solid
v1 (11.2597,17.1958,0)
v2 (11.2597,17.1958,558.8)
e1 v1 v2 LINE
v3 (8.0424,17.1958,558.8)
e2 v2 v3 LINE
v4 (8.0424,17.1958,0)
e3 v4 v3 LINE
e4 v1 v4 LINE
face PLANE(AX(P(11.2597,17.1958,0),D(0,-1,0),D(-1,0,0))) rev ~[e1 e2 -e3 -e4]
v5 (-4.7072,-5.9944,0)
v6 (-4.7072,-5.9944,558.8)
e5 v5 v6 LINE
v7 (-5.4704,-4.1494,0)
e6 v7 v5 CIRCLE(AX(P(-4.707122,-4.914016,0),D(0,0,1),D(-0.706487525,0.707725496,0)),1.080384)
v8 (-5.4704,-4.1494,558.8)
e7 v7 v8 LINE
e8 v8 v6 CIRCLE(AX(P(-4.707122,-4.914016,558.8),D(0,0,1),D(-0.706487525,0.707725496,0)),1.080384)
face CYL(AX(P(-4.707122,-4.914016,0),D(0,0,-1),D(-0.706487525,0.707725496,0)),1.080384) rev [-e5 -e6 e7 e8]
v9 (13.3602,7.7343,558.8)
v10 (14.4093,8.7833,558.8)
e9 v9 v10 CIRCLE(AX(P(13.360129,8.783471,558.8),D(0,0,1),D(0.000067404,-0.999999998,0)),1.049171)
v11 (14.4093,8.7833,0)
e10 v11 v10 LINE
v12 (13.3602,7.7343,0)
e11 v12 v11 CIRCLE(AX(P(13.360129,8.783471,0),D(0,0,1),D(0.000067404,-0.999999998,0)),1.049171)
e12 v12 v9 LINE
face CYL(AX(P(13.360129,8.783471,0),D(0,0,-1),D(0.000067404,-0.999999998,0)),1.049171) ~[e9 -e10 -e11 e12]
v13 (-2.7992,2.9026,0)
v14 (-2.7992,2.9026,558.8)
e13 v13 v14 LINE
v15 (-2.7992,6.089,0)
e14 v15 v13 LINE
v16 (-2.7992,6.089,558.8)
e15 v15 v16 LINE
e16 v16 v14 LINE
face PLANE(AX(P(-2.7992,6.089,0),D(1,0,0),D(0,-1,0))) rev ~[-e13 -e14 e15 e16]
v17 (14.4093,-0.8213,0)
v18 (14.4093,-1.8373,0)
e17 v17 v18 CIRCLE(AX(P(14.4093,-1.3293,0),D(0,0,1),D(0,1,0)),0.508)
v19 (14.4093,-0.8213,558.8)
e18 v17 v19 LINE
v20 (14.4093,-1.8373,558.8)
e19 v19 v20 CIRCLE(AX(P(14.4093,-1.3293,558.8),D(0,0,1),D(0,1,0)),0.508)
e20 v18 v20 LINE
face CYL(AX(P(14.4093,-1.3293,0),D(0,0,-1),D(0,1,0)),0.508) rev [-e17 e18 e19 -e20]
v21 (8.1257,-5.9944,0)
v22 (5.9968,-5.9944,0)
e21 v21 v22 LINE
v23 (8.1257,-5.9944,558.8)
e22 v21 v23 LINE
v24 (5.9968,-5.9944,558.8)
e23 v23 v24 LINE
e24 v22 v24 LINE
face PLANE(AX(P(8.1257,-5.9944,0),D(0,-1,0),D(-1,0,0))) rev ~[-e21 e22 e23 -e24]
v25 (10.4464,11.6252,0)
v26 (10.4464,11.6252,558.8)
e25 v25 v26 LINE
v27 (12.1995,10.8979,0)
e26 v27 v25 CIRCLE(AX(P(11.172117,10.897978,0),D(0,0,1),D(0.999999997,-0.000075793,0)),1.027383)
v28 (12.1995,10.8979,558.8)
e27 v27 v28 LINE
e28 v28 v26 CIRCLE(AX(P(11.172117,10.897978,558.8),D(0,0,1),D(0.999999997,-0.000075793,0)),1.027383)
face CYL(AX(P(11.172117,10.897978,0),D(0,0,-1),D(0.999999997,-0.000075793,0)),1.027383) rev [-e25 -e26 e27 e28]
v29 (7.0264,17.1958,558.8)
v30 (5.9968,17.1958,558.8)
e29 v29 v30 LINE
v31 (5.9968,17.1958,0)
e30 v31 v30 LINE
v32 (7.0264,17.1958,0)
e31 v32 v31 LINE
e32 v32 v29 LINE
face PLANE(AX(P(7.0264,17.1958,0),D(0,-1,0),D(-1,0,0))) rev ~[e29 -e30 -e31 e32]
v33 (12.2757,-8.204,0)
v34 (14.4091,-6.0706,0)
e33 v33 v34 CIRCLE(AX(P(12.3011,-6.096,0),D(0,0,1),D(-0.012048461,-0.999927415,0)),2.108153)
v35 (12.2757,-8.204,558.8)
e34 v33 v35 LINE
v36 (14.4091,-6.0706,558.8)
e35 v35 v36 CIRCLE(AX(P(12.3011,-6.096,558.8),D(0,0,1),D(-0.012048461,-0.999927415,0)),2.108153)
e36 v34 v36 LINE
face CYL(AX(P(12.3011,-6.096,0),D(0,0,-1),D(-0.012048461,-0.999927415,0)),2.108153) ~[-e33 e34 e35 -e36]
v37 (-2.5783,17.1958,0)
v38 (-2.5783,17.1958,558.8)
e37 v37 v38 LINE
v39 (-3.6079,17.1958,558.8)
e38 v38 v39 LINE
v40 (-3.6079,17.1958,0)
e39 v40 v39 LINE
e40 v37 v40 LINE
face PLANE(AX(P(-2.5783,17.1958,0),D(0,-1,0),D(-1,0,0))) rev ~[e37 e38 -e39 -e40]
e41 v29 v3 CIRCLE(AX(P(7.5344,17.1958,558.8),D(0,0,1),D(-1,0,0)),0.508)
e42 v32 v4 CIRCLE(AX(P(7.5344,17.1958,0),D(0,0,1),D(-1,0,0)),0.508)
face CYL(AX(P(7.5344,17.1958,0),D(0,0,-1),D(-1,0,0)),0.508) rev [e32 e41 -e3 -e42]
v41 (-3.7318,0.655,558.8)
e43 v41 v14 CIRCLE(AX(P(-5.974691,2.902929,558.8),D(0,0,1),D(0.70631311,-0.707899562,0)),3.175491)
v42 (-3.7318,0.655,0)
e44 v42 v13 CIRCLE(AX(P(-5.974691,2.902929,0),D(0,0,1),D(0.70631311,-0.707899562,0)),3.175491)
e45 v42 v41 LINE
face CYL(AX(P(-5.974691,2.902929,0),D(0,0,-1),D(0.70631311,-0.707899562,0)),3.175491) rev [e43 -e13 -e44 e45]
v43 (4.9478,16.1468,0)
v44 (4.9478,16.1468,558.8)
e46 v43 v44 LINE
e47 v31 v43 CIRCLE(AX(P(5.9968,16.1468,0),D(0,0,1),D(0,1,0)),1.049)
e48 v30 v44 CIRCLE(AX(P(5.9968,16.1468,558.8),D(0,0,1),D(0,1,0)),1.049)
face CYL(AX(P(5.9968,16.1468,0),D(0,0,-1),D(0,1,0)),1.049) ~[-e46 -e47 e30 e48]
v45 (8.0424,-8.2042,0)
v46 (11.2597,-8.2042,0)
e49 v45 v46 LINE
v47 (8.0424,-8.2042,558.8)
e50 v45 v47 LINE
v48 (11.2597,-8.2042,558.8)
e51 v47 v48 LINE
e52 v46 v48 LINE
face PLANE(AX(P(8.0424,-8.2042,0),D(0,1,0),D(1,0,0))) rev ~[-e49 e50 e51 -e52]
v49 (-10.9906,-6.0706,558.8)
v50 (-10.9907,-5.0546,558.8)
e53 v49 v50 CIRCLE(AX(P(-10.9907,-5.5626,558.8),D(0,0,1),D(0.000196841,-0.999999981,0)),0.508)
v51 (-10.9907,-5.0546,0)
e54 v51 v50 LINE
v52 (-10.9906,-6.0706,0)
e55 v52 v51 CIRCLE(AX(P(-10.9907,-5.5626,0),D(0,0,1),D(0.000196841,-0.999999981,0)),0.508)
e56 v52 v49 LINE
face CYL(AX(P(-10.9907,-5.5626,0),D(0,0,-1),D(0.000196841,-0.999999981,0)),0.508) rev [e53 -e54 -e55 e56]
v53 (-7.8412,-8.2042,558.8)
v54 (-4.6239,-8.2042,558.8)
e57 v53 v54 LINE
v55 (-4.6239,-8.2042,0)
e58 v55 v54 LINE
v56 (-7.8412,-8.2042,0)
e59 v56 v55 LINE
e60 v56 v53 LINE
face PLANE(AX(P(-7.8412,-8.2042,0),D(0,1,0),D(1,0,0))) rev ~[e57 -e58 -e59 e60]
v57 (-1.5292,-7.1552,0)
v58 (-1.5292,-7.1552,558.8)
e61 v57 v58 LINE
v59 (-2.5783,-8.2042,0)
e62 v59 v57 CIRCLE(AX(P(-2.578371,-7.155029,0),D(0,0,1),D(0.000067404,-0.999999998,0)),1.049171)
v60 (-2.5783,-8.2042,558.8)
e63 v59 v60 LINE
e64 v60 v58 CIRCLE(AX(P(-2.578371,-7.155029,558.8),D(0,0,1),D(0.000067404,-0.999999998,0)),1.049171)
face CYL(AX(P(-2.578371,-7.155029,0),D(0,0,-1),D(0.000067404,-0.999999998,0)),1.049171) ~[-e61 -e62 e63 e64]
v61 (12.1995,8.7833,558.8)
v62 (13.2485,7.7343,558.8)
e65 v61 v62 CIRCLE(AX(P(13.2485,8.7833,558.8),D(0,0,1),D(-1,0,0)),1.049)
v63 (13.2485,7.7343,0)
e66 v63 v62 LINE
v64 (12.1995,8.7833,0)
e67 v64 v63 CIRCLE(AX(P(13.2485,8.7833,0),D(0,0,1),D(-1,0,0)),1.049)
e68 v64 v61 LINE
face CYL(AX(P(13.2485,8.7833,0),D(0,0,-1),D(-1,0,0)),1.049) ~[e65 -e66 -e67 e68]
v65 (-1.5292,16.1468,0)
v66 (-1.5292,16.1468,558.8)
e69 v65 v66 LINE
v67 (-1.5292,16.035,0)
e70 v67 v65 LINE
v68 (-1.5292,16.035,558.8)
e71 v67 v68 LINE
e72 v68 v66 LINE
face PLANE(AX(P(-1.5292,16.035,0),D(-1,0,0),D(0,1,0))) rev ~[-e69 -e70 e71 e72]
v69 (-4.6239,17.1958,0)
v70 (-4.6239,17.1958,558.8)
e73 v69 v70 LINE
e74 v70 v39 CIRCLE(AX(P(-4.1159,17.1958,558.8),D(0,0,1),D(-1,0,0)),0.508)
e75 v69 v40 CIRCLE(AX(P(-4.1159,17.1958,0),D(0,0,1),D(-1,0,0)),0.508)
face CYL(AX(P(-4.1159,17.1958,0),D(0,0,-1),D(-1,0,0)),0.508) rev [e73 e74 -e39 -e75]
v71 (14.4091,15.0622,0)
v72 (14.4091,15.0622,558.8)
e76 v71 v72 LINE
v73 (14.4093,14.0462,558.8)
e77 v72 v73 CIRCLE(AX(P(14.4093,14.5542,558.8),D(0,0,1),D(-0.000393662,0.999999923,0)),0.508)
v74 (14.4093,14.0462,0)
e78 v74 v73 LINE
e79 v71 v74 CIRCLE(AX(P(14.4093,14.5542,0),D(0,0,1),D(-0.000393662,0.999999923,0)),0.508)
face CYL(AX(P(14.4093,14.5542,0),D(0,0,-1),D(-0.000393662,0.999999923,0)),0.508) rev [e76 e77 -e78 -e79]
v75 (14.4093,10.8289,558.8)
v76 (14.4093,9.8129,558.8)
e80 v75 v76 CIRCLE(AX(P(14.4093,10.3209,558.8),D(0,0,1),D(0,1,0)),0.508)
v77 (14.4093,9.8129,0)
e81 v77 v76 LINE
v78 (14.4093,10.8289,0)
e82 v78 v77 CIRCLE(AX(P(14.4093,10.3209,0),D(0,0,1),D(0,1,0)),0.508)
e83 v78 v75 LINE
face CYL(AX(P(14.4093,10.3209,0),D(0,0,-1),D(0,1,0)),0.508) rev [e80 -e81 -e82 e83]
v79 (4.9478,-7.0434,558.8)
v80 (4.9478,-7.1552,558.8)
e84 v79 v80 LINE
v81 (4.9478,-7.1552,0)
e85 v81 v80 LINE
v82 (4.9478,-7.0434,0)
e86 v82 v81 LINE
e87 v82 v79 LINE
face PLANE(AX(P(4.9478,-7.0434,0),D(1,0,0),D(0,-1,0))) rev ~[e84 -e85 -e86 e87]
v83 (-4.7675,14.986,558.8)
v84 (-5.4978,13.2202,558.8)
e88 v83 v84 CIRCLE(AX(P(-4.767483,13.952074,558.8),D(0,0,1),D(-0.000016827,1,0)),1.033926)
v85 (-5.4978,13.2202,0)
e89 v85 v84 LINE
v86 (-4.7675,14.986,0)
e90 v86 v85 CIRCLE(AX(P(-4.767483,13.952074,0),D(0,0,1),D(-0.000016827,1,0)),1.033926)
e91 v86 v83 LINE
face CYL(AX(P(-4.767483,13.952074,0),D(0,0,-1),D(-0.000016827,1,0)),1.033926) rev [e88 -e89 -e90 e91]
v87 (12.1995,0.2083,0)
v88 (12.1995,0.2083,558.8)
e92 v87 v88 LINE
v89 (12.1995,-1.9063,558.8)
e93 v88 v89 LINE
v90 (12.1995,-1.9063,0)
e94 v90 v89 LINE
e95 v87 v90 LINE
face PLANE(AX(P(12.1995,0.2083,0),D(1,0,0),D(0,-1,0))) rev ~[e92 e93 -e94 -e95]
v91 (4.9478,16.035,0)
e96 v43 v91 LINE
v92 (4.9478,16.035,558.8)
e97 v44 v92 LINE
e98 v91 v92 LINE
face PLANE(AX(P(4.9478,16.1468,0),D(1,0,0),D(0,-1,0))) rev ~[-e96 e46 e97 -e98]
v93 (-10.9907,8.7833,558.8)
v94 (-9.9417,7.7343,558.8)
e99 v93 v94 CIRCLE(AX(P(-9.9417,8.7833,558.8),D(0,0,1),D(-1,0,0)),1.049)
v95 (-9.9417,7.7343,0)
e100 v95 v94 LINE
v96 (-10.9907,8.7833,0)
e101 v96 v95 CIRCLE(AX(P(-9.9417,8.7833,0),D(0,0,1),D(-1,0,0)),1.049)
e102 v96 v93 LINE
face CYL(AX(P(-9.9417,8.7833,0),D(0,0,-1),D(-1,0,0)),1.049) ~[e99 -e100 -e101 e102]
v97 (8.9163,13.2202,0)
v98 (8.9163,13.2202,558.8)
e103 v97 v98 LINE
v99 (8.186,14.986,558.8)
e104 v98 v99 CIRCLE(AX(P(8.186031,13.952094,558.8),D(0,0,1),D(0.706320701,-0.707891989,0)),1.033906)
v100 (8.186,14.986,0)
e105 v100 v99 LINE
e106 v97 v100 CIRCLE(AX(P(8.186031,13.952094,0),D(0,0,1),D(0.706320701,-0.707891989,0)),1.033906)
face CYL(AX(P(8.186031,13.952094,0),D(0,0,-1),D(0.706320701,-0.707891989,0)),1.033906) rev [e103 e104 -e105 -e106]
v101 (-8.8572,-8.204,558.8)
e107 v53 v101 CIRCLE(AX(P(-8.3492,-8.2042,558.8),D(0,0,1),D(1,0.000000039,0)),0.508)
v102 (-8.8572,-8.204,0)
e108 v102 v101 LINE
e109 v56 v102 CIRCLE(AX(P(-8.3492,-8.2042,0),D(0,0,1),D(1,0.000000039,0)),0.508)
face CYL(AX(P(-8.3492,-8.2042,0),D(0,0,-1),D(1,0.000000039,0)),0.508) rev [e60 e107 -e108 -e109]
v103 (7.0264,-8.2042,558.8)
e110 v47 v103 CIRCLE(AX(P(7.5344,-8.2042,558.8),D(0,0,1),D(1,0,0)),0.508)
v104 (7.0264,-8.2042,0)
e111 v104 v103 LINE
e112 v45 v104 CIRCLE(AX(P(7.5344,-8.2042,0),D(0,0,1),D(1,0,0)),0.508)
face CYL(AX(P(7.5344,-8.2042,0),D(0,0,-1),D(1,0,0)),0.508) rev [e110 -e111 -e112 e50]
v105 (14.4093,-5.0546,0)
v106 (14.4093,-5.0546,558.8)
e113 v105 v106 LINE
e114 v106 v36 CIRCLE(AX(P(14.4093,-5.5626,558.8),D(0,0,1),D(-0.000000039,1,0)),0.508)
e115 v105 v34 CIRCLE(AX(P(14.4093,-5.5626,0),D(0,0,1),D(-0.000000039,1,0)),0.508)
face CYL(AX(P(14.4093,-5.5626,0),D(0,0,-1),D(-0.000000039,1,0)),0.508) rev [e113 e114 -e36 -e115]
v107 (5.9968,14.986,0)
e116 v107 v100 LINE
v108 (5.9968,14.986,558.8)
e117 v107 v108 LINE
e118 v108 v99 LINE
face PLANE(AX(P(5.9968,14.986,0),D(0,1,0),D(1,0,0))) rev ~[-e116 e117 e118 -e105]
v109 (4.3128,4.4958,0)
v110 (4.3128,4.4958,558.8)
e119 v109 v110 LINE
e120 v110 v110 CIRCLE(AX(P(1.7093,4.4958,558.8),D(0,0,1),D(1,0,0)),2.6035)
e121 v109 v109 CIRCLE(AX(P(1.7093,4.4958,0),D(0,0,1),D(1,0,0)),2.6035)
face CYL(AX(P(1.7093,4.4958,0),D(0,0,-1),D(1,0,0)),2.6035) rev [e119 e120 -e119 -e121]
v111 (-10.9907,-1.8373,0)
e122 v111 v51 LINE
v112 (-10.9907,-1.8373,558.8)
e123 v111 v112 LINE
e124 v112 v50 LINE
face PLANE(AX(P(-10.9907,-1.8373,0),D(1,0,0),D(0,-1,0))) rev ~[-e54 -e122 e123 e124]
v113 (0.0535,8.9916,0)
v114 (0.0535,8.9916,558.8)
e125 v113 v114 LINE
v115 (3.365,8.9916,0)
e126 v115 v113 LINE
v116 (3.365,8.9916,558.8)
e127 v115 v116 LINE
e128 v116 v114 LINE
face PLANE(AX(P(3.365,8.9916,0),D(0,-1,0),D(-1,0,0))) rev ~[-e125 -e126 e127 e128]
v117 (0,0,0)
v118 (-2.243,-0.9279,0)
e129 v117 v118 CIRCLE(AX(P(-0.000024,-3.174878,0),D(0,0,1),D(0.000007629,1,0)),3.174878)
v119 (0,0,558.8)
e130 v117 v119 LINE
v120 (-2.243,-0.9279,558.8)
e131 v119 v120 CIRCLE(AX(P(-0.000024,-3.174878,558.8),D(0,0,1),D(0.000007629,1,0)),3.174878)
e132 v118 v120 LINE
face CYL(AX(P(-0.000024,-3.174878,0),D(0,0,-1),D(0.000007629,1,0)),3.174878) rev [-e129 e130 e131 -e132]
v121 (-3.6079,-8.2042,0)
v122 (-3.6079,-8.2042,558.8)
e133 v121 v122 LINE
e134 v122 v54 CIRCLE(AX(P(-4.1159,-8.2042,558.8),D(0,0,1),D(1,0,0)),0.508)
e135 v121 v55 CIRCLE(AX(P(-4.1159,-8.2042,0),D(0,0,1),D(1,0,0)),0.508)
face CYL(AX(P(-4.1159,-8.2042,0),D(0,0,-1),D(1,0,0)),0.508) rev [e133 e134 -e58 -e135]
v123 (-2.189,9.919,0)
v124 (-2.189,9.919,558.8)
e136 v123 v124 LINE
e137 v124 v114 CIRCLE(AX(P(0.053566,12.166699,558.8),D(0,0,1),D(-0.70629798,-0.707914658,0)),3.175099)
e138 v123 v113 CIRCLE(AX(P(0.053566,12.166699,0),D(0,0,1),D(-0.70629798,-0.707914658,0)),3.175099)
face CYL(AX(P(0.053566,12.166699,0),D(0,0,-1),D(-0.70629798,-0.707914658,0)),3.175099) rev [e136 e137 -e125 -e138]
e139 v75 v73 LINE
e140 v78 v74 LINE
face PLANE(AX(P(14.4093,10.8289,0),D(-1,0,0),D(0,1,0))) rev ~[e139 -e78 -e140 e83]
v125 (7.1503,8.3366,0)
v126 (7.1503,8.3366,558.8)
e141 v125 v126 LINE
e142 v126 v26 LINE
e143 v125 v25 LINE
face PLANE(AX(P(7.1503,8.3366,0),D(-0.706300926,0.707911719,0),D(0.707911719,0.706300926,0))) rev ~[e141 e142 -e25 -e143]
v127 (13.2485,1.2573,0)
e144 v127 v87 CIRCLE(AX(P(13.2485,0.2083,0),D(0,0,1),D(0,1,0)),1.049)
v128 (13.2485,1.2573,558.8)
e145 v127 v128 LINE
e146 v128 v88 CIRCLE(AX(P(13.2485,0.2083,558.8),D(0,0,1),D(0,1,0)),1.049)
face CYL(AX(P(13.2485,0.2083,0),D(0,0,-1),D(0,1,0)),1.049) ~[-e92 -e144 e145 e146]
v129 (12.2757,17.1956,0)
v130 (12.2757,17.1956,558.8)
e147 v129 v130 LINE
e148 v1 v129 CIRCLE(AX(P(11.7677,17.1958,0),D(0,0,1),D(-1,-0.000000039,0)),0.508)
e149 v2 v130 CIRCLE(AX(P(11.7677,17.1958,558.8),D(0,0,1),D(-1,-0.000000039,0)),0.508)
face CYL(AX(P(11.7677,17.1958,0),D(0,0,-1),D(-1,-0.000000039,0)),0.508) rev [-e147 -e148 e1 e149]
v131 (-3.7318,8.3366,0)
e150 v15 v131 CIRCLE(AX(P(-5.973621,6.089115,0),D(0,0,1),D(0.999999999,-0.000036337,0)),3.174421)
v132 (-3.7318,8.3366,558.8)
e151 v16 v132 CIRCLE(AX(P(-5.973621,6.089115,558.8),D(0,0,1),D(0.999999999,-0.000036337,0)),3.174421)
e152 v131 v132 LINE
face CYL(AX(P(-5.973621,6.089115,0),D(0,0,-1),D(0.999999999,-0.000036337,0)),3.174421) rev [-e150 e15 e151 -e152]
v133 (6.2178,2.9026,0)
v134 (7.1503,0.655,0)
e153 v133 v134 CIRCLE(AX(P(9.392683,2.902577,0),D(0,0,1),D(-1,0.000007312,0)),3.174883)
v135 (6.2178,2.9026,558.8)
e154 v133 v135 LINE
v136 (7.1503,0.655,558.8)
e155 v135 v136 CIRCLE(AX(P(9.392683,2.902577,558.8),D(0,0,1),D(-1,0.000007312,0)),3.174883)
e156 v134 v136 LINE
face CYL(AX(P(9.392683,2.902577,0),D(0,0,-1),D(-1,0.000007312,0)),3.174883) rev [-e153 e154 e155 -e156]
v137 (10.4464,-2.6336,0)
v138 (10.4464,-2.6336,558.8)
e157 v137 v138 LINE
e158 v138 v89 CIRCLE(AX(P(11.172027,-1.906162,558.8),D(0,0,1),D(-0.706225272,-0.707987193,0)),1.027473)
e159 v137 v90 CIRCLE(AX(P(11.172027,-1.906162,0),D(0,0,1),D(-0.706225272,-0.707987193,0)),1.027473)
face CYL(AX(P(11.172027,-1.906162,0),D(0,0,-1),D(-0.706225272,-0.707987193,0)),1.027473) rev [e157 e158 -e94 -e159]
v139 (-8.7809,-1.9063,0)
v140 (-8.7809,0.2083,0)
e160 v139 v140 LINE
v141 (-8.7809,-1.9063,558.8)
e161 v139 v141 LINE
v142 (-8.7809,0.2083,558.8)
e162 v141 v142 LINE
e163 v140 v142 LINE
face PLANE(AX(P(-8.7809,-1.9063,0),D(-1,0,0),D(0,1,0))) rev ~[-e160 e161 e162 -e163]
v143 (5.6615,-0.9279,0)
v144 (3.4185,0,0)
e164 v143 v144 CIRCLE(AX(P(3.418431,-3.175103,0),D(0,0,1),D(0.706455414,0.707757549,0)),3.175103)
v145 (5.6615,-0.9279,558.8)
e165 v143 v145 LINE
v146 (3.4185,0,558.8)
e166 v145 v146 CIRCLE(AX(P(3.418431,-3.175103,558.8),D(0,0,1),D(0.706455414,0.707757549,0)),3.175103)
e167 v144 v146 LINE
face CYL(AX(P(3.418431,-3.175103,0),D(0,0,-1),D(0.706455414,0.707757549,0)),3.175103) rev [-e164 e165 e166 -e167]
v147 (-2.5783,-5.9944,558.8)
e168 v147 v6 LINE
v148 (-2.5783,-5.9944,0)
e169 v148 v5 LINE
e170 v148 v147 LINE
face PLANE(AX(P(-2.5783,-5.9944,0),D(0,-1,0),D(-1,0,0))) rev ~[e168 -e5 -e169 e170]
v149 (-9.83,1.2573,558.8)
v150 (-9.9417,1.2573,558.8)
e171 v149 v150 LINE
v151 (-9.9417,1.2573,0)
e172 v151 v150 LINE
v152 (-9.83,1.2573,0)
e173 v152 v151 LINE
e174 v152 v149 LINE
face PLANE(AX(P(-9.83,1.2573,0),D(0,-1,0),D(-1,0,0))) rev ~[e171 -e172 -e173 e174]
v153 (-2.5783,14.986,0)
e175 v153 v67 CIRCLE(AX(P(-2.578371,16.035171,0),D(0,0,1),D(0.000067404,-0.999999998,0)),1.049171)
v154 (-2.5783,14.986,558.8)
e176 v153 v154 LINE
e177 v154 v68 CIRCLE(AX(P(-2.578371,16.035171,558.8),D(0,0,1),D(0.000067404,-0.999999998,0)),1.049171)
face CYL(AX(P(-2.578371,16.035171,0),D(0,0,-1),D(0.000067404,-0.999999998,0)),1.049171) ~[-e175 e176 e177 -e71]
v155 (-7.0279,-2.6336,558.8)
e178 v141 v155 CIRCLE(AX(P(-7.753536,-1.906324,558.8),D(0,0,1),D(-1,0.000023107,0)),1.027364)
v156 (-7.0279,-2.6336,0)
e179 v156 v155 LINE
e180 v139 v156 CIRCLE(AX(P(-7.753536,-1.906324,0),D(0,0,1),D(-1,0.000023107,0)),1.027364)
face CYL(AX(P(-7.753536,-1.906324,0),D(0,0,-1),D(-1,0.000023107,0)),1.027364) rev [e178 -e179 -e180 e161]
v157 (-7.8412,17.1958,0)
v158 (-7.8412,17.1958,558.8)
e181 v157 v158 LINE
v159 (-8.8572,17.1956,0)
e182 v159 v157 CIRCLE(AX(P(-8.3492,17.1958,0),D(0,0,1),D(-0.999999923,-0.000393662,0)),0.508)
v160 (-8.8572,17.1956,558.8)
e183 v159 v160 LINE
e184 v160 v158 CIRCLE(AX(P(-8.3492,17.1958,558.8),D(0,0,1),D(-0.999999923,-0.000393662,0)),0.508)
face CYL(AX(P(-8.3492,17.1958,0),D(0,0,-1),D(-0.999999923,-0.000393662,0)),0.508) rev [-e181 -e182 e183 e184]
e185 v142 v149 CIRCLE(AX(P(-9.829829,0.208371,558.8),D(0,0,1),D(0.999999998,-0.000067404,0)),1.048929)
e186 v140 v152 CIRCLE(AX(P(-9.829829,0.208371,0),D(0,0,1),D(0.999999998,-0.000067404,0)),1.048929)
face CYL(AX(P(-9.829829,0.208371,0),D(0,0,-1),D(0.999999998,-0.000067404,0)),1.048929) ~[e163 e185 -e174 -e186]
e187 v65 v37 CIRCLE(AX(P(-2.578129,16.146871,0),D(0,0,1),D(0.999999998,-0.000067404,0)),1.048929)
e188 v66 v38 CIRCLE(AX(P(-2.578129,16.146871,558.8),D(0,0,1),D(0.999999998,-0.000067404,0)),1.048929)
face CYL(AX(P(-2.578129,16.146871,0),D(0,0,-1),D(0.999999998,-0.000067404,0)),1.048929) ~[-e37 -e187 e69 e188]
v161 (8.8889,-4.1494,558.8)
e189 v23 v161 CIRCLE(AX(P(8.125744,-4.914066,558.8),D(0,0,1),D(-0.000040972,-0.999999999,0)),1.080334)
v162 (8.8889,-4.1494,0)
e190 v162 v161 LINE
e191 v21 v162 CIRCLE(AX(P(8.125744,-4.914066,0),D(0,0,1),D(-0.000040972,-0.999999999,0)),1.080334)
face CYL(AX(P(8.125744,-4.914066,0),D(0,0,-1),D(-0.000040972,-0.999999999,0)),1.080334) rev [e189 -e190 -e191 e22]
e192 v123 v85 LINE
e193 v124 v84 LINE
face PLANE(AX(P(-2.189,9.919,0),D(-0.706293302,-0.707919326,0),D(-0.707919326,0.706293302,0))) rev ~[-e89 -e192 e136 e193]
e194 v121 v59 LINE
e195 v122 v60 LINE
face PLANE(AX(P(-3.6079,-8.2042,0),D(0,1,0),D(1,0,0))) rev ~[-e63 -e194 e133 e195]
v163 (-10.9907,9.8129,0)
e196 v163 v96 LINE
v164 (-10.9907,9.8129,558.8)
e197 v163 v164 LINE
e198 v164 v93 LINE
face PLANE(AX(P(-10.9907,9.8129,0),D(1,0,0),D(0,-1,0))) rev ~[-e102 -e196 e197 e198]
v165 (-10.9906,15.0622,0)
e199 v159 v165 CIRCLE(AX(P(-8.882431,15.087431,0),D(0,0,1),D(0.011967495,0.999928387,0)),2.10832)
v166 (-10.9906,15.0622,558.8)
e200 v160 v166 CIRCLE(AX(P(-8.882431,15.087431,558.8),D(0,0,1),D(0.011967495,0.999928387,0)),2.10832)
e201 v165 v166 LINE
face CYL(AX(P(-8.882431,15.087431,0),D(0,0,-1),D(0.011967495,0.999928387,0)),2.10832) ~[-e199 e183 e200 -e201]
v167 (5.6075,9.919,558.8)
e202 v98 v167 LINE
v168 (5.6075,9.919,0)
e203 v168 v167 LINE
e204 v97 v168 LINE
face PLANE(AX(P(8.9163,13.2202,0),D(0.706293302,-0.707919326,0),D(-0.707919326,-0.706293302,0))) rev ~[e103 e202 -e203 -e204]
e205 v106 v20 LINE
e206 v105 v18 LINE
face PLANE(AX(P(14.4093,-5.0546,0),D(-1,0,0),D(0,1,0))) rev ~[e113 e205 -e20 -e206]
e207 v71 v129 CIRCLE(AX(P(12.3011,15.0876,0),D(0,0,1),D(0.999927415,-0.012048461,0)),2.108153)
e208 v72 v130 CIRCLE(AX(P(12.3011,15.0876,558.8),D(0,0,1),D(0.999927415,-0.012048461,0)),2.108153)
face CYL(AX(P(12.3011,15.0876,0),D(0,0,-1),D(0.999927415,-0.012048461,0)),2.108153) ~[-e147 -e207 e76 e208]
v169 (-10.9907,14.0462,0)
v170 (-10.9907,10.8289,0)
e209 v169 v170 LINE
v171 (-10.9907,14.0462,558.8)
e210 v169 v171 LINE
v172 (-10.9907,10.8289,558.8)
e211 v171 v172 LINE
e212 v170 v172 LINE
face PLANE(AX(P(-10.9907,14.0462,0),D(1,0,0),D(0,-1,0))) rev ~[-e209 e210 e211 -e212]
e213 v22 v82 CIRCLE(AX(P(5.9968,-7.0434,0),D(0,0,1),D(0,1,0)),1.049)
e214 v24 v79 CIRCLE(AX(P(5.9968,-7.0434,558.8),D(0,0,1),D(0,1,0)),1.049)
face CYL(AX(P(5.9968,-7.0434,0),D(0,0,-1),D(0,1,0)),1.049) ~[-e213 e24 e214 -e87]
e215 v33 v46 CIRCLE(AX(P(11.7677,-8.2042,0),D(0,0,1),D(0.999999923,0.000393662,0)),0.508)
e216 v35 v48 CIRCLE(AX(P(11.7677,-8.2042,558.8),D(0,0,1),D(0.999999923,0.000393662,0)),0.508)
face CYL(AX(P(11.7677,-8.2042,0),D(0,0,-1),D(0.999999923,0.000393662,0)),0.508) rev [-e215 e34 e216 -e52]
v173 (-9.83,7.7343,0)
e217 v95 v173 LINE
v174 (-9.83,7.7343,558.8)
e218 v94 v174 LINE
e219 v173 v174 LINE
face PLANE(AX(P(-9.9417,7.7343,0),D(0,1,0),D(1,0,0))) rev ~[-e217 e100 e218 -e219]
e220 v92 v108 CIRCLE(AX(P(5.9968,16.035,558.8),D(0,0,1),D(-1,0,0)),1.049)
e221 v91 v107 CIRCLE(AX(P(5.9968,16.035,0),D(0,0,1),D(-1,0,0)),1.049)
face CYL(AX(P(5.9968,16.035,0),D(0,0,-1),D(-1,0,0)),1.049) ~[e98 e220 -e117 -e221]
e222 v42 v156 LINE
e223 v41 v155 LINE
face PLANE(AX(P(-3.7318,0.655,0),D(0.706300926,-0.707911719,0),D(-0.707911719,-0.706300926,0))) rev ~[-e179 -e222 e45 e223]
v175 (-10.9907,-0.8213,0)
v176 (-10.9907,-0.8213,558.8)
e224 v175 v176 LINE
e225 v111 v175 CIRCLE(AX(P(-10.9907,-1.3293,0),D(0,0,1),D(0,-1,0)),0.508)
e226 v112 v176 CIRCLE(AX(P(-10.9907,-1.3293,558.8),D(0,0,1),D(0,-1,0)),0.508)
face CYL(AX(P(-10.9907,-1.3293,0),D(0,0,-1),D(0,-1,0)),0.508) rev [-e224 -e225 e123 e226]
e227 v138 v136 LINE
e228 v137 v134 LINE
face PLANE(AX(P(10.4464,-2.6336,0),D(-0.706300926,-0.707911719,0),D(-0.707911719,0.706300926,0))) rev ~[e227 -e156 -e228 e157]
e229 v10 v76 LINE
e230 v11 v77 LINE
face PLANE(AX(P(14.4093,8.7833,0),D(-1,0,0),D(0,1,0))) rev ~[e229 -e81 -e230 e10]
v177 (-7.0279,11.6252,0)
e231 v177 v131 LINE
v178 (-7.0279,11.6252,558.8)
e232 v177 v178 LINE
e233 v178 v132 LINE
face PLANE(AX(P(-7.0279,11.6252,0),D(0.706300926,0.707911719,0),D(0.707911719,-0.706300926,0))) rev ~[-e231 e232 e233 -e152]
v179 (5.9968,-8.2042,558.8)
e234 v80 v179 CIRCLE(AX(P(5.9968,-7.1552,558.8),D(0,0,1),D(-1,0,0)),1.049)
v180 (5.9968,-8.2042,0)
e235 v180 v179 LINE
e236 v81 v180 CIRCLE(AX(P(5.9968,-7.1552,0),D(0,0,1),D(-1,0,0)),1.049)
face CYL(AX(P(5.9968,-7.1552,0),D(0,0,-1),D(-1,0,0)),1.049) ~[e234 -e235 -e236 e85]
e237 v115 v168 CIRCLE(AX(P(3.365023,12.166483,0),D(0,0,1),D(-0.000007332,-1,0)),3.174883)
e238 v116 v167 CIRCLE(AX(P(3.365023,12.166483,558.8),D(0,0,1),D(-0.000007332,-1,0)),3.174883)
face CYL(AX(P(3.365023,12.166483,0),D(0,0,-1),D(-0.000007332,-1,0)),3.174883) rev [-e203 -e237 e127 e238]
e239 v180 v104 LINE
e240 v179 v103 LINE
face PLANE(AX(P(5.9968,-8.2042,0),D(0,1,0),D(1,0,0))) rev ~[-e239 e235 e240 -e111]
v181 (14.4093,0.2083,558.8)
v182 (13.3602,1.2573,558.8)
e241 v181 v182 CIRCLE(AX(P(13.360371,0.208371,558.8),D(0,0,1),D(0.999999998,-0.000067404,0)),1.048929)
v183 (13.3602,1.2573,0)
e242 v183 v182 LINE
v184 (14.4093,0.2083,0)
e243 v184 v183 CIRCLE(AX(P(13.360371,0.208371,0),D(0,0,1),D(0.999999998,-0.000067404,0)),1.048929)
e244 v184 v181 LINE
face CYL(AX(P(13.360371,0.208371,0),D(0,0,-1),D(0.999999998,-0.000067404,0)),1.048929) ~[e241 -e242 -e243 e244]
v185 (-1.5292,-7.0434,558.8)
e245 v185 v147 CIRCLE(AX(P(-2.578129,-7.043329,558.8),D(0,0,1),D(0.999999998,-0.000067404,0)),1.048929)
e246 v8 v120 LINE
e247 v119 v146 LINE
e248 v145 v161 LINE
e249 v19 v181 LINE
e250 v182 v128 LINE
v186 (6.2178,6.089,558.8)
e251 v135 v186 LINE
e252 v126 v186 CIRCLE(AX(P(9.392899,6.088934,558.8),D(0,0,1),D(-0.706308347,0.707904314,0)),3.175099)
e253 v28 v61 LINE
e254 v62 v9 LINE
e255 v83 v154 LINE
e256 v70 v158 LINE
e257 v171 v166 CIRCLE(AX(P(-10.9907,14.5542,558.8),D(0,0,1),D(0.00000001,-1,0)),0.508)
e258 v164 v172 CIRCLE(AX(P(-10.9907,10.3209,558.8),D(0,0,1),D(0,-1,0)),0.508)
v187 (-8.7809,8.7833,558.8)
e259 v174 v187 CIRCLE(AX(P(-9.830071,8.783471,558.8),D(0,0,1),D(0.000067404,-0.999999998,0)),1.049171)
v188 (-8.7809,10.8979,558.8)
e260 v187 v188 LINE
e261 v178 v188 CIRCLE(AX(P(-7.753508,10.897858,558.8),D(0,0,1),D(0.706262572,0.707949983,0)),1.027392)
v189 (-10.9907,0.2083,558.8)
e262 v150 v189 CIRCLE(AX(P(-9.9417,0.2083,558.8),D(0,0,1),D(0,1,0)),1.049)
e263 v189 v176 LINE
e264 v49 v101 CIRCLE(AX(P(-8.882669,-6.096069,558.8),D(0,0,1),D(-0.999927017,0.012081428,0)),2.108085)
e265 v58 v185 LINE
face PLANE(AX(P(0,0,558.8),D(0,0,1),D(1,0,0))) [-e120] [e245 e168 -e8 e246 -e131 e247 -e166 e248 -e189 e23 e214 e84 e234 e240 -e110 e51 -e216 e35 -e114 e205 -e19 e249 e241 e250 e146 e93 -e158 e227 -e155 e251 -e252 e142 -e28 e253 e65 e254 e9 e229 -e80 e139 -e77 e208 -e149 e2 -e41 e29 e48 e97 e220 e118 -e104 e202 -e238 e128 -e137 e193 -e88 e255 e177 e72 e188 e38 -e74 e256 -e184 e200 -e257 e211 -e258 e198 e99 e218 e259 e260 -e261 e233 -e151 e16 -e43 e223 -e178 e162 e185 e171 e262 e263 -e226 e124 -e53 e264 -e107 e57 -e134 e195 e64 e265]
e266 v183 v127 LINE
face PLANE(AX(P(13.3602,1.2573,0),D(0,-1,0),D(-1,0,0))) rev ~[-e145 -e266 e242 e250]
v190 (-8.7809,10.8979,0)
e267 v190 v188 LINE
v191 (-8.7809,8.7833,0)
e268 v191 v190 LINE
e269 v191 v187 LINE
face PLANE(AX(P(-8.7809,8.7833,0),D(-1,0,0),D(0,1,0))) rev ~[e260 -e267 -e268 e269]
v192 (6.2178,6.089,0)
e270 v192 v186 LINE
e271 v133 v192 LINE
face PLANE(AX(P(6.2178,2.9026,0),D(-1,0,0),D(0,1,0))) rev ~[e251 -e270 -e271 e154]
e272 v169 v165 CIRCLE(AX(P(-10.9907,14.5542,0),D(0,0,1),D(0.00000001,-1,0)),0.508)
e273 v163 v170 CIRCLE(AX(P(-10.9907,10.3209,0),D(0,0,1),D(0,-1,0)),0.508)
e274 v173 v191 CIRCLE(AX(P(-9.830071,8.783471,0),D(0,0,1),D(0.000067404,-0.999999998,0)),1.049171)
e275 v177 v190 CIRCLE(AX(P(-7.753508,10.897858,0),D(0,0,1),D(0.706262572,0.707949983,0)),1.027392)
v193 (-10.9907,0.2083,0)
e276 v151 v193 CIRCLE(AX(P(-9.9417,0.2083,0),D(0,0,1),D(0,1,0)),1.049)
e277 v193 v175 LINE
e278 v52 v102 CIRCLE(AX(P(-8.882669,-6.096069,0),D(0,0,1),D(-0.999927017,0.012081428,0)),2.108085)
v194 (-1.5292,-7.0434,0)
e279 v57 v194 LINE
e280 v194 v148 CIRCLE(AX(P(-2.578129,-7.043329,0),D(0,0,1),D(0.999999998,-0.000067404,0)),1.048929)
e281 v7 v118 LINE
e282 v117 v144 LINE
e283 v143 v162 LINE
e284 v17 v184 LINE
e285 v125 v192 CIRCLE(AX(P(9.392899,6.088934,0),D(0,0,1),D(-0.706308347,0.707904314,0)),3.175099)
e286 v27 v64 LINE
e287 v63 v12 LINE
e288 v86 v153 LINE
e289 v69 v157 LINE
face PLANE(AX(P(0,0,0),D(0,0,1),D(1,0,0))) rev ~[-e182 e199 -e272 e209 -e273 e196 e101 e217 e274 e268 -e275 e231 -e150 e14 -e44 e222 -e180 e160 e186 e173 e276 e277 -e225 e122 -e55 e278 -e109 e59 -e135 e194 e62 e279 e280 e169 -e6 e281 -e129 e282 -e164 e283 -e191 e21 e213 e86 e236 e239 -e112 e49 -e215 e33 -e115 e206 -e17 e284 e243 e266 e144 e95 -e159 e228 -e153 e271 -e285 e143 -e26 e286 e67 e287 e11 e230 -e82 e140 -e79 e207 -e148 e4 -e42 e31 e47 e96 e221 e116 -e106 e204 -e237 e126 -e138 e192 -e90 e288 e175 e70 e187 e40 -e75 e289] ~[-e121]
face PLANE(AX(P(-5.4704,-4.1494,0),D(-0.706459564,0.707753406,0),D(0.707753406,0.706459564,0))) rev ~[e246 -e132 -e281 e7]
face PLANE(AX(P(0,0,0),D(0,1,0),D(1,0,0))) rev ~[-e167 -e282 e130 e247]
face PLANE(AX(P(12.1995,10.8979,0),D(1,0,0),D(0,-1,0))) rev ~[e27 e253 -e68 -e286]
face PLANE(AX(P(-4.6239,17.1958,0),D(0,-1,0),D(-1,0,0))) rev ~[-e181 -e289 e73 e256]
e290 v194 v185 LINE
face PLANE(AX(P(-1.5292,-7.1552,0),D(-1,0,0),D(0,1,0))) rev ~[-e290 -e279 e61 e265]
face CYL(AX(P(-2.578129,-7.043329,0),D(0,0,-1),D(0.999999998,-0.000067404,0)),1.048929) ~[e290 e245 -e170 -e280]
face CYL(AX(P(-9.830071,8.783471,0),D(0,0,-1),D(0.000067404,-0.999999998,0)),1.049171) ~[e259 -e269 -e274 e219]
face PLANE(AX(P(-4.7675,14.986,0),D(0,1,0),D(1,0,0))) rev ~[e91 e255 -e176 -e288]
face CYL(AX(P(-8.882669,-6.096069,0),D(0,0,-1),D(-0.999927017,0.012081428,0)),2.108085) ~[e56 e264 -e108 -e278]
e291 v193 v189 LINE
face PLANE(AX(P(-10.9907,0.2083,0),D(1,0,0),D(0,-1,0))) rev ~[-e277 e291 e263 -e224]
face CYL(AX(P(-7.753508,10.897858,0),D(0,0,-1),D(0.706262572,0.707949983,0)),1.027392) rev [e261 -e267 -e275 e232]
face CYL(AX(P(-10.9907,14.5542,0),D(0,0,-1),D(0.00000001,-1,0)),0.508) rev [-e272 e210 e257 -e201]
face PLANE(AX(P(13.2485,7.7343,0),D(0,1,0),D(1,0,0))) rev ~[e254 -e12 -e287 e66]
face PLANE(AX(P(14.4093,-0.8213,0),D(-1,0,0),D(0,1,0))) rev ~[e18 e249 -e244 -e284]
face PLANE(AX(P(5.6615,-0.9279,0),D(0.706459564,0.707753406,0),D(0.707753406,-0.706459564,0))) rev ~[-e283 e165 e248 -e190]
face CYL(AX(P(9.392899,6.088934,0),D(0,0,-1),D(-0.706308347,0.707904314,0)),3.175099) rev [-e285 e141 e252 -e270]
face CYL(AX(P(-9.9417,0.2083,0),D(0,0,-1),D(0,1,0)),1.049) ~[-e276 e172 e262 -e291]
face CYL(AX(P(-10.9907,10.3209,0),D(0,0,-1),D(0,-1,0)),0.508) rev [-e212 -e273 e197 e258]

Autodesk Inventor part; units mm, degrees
ref_plane "YZ Plane" through (0, 0, 0) normal (1, 0, 0) x (0, 1, 0)
ref_plane "XZ Plane" through (0, 0, 0) normal (0, 1, 0) x (-1, 0, 0)
ref_plane "XY Plane" through (0, 0, 0) normal (0, 0, 1) x (1, 0, 0)
sketch "Sketch1" plane through (0, 0, 0) normal (0, 0, 1) x (1, 0, 0)
  arc A0 (-5.4704, -4.1494) -> (-4.7072, -5.9944) centre (-4.7072, -4.914) ccw
  line L0 (-5.4704, -4.1494) -> (-2.243, -0.9279)
  arc A1 (0, 0) -> (-2.243, -0.9279) centre (0, -3.175) ccw
  line L1 (0, 0) -> (3.4185, 0)
  arc A2 (5.6615, -0.9279) -> (3.4185, 0) centre (3.4185, -3.175) ccw
  line L2 (5.6615, -0.9279) -> (8.8889, -4.1494)
  arc A3 (8.1257, -5.9944) -> (8.8889, -4.1494) centre (8.1257, -4.914) ccw
  line L3 (8.1257, -5.9944) -> (5.9968, -5.9944)
  arc A4 (5.9968, -5.9944) -> (4.9478, -7.0434) centre (5.9968, -7.0434) ccw
  line L4 (4.9478, -7.0434) -> (4.9478, -7.1552)
  arc A5 (4.9478, -7.1552) -> (5.9968, -8.2042) centre (5.9968, -7.1552) ccw
  line L5 (5.9968, -8.2042) -> (7.0264, -8.2042)
  arc A6 (8.0424, -8.2042) -> (7.0264, -8.2042) centre (7.5344, -8.2042) ccw
  line L6 (8.0424, -8.2042) -> (11.2597, -8.2042)
  arc A7 (12.2757, -8.204) -> (11.2597, -8.2042) centre (11.7677, -8.2042) ccw
  arc A8 (12.2757, -8.204) -> (14.4091, -6.0706) centre (12.3011, -6.096) ccw
  arc A9 (14.4093, -5.0546) -> (14.4091, -6.0706) centre (14.4093, -5.5626) ccw
  line L7 (14.4093, -5.0546) -> (14.4093, -1.8373)
  arc A10 (14.4093, -0.8213) -> (14.4093, -1.8373) centre (14.4093, -1.3293) ccw
  line L8 (14.4093, -0.8213) -> (14.4093, 0.2083)
  arc A11 (14.4093, 0.2083) -> (13.3602, 1.2573) centre (13.3602, 0.2083) ccw
  line L9 (13.3602, 1.2573) -> (13.2485, 1.2573)
  arc A12 (13.2485, 1.2573) -> (12.1995, 0.2083) centre (13.2485, 0.2083) ccw
  line L10 (12.1995, 0.2083) -> (12.1995, -1.9063)
  arc A13 (10.4464, -2.6336) -> (12.1995, -1.9063) centre (11.172, -1.9063) ccw
  line L11 (10.4464, -2.6336) -> (7.1503, 0.655)
  arc A14 (6.2178, 2.9026) -> (7.1503, 0.655) centre (9.3928, 2.9026) ccw
  line L12 (6.2178, 2.9026) -> (6.2178, 6.089)
  arc A15 (7.1503, 8.3366) -> (6.2178, 6.089) centre (9.3928, 6.089) ccw
  line L13 (7.1503, 8.3366) -> (10.4464, 11.6252)
  arc A16 (12.1995, 10.8979) -> (10.4464, 11.6252) centre (11.172, 10.8979) ccw
  line L14 (12.1995, 10.8979) -> (12.1995, 8.7833)
  arc A17 (12.1995, 8.7833) -> (13.2485, 7.7343) centre (13.2485, 8.7833) ccw
  line L15 (13.2485, 7.7343) -> (13.3602, 7.7343)
  arc A18 (13.3602, 7.7343) -> (14.4093, 8.7833) centre (13.3602, 8.7833) ccw
  line L16 (14.4093, 8.7833) -> (14.4093, 9.8129)
  arc A19 (14.4093, 10.8289) -> (14.4093, 9.8129) centre (14.4093, 10.3209) ccw
  line L17 (14.4093, 10.8289) -> (14.4093, 14.0462)
  arc A20 (14.4091, 15.0622) -> (14.4093, 14.0462) centre (14.4093, 14.5542) ccw
  arc A21 (14.4091, 15.0622) -> (12.2757, 17.1956) centre (12.3011, 15.0876) ccw
  arc A22 (11.2597, 17.1958) -> (12.2757, 17.1956) centre (11.7677, 17.1958) ccw
  line L18 (11.2597, 17.1958) -> (8.0424, 17.1958)
  arc A23 (7.0264, 17.1958) -> (8.0424, 17.1958) centre (7.5344, 17.1958) ccw
  line L19 (7.0264, 17.1958) -> (5.9968, 17.1958)
  arc A24 (5.9968, 17.1958) -> (4.9478, 16.1468) centre (5.9968, 16.1468) ccw
  line L20 (4.9478, 16.1468) -> (4.9478, 16.035)
  arc A25 (4.9478, 16.035) -> (5.9968, 14.986) centre (5.9968, 16.035) ccw
  line L21 (5.9968, 14.986) -> (8.186, 14.986)
  arc A26 (8.9163, 13.2202) -> (8.186, 14.986) centre (8.186, 13.9521) ccw
  line L22 (8.9163, 13.2202) -> (5.6075, 9.919)
  arc A27 (3.365, 8.9916) -> (5.6075, 9.919) centre (3.365, 12.1666) ccw
  line L23 (3.365, 8.9916) -> (0.0535, 8.9916)
  arc A28 (-2.189, 9.919) -> (0.0535, 8.9916) centre (0.0535, 12.1666) ccw
  line L24 (-2.189, 9.919) -> (-5.4978, 13.2202)
  arc A29 (-4.7675, 14.986) -> (-5.4978, 13.2202) centre (-4.7675, 13.9521) ccw
  line L25 (-4.7675, 14.986) -> (-2.5783, 14.986)
  arc A30 (-2.5783, 14.986) -> (-1.5292, 16.035) centre (-2.5783, 16.035) ccw
  line L26 (-1.5292, 16.035) -> (-1.5292, 16.1468)
  arc A31 (-1.5292, 16.1468) -> (-2.5783, 17.1958) centre (-2.5783, 16.1468) ccw
  line L27 (-2.5783, 17.1958) -> (-3.6079, 17.1958)
  arc A32 (-4.6239, 17.1958) -> (-3.6079, 17.1958) centre (-4.1159, 17.1958) ccw
  line L28 (-4.6239, 17.1958) -> (-7.8412, 17.1958)
  arc A33 (-8.8572, 17.1956) -> (-7.8412, 17.1958) centre (-8.3492, 17.1958) ccw
  arc A34 (-8.8572, 17.1956) -> (-10.9906, 15.0622) centre (-8.8825, 15.0876) ccw
  arc A35 (-10.9907, 14.0462) -> (-10.9906, 15.0622) centre (-10.9907, 14.5542) ccw
  line L29 (-10.9907, 14.0462) -> (-10.9907, 10.8289)
  arc A36 (-10.9907, 9.8129) -> (-10.9907, 10.8289) centre (-10.9907, 10.3209) ccw
  line L30 (-10.9907, 9.8129) -> (-10.9907, 8.7833)
  arc A37 (-10.9907, 8.7833) -> (-9.9417, 7.7343) centre (-9.9417, 8.7833) ccw
  line L31 (-9.9417, 7.7343) -> (-9.83, 7.7343)
  arc A38 (-9.83, 7.7343) -> (-8.7809, 8.7833) centre (-9.83, 8.7833) ccw
  line L32 (-8.7809, 8.7833) -> (-8.7809, 10.8979)
  arc A39 (-7.0279, 11.6252) -> (-8.7809, 10.8979) centre (-7.7535, 10.8979) ccw
  line L33 (-7.0279, 11.6252) -> (-3.7318, 8.3366)
  arc A40 (-2.7992, 6.089) -> (-3.7318, 8.3366) centre (-5.9742, 6.089) ccw
  line L34 (-2.7992, 6.089) -> (-2.7992, 2.9026)
  arc A41 (-3.7318, 0.655) -> (-2.7992, 2.9026) centre (-5.9742, 2.9026) ccw
  line L35 (-3.7318, 0.655) -> (-7.0279, -2.6336)
  arc A42 (-8.7809, -1.9063) -> (-7.0279, -2.6336) centre (-7.7535, -1.9063) ccw
  line L36 (-8.7809, -1.9063) -> (-8.7809, 0.2083)
  arc A43 (-8.7809, 0.2083) -> (-9.83, 1.2573) centre (-9.83, 0.2083) ccw
  line L37 (-9.83, 1.2573) -> (-9.9417, 1.2573)
  arc A44 (-9.9417, 1.2573) -> (-10.9907, 0.2083) centre (-9.9417, 0.2083) ccw
  line L38 (-10.9907, 0.2083) -> (-10.9907, -0.8213)
  arc A45 (-10.9907, -1.8373) -> (-10.9907, -0.8213) centre (-10.9907, -1.3293) ccw
  line L39 (-10.9907, -1.8373) -> (-10.9907, -5.0546)
  arc A46 (-10.9906, -6.0706) -> (-10.9907, -5.0546) centre (-10.9907, -5.5626) ccw
  arc A47 (-10.9906, -6.0706) -> (-8.8572, -8.204) centre (-8.8825, -6.096) ccw
  arc A48 (-7.8412, -8.2042) -> (-8.8572, -8.204) centre (-8.3492, -8.2042) ccw
  line L40 (-7.8412, -8.2042) -> (-4.6239, -8.2042)
  arc A49 (-3.6079, -8.2042) -> (-4.6239, -8.2042) centre (-4.1159, -8.2042) ccw
  line L41 (-3.6079, -8.2042) -> (-2.5783, -8.2042)
  arc A50 (-2.5783, -8.2042) -> (-1.5292, -7.1552) centre (-2.5783, -7.1552) ccw
  line L42 (-1.5292, -7.1552) -> (-1.5292, -7.0434)
  arc A51 (-1.5292, -7.0434) -> (-2.5783, -5.9944) centre (-2.5783, -7.0434) ccw
  line L43 (-2.5783, -5.9944) -> (-4.7072, -5.9944)
  circle A52 centre (1.7093, 4.4958) radius 2.6035
extrude "Extrusion1" add sketch "Sketch1" along normal blind 558.8
properties part number "22 in 1x1 T slot" material "Steel, Alloy"
